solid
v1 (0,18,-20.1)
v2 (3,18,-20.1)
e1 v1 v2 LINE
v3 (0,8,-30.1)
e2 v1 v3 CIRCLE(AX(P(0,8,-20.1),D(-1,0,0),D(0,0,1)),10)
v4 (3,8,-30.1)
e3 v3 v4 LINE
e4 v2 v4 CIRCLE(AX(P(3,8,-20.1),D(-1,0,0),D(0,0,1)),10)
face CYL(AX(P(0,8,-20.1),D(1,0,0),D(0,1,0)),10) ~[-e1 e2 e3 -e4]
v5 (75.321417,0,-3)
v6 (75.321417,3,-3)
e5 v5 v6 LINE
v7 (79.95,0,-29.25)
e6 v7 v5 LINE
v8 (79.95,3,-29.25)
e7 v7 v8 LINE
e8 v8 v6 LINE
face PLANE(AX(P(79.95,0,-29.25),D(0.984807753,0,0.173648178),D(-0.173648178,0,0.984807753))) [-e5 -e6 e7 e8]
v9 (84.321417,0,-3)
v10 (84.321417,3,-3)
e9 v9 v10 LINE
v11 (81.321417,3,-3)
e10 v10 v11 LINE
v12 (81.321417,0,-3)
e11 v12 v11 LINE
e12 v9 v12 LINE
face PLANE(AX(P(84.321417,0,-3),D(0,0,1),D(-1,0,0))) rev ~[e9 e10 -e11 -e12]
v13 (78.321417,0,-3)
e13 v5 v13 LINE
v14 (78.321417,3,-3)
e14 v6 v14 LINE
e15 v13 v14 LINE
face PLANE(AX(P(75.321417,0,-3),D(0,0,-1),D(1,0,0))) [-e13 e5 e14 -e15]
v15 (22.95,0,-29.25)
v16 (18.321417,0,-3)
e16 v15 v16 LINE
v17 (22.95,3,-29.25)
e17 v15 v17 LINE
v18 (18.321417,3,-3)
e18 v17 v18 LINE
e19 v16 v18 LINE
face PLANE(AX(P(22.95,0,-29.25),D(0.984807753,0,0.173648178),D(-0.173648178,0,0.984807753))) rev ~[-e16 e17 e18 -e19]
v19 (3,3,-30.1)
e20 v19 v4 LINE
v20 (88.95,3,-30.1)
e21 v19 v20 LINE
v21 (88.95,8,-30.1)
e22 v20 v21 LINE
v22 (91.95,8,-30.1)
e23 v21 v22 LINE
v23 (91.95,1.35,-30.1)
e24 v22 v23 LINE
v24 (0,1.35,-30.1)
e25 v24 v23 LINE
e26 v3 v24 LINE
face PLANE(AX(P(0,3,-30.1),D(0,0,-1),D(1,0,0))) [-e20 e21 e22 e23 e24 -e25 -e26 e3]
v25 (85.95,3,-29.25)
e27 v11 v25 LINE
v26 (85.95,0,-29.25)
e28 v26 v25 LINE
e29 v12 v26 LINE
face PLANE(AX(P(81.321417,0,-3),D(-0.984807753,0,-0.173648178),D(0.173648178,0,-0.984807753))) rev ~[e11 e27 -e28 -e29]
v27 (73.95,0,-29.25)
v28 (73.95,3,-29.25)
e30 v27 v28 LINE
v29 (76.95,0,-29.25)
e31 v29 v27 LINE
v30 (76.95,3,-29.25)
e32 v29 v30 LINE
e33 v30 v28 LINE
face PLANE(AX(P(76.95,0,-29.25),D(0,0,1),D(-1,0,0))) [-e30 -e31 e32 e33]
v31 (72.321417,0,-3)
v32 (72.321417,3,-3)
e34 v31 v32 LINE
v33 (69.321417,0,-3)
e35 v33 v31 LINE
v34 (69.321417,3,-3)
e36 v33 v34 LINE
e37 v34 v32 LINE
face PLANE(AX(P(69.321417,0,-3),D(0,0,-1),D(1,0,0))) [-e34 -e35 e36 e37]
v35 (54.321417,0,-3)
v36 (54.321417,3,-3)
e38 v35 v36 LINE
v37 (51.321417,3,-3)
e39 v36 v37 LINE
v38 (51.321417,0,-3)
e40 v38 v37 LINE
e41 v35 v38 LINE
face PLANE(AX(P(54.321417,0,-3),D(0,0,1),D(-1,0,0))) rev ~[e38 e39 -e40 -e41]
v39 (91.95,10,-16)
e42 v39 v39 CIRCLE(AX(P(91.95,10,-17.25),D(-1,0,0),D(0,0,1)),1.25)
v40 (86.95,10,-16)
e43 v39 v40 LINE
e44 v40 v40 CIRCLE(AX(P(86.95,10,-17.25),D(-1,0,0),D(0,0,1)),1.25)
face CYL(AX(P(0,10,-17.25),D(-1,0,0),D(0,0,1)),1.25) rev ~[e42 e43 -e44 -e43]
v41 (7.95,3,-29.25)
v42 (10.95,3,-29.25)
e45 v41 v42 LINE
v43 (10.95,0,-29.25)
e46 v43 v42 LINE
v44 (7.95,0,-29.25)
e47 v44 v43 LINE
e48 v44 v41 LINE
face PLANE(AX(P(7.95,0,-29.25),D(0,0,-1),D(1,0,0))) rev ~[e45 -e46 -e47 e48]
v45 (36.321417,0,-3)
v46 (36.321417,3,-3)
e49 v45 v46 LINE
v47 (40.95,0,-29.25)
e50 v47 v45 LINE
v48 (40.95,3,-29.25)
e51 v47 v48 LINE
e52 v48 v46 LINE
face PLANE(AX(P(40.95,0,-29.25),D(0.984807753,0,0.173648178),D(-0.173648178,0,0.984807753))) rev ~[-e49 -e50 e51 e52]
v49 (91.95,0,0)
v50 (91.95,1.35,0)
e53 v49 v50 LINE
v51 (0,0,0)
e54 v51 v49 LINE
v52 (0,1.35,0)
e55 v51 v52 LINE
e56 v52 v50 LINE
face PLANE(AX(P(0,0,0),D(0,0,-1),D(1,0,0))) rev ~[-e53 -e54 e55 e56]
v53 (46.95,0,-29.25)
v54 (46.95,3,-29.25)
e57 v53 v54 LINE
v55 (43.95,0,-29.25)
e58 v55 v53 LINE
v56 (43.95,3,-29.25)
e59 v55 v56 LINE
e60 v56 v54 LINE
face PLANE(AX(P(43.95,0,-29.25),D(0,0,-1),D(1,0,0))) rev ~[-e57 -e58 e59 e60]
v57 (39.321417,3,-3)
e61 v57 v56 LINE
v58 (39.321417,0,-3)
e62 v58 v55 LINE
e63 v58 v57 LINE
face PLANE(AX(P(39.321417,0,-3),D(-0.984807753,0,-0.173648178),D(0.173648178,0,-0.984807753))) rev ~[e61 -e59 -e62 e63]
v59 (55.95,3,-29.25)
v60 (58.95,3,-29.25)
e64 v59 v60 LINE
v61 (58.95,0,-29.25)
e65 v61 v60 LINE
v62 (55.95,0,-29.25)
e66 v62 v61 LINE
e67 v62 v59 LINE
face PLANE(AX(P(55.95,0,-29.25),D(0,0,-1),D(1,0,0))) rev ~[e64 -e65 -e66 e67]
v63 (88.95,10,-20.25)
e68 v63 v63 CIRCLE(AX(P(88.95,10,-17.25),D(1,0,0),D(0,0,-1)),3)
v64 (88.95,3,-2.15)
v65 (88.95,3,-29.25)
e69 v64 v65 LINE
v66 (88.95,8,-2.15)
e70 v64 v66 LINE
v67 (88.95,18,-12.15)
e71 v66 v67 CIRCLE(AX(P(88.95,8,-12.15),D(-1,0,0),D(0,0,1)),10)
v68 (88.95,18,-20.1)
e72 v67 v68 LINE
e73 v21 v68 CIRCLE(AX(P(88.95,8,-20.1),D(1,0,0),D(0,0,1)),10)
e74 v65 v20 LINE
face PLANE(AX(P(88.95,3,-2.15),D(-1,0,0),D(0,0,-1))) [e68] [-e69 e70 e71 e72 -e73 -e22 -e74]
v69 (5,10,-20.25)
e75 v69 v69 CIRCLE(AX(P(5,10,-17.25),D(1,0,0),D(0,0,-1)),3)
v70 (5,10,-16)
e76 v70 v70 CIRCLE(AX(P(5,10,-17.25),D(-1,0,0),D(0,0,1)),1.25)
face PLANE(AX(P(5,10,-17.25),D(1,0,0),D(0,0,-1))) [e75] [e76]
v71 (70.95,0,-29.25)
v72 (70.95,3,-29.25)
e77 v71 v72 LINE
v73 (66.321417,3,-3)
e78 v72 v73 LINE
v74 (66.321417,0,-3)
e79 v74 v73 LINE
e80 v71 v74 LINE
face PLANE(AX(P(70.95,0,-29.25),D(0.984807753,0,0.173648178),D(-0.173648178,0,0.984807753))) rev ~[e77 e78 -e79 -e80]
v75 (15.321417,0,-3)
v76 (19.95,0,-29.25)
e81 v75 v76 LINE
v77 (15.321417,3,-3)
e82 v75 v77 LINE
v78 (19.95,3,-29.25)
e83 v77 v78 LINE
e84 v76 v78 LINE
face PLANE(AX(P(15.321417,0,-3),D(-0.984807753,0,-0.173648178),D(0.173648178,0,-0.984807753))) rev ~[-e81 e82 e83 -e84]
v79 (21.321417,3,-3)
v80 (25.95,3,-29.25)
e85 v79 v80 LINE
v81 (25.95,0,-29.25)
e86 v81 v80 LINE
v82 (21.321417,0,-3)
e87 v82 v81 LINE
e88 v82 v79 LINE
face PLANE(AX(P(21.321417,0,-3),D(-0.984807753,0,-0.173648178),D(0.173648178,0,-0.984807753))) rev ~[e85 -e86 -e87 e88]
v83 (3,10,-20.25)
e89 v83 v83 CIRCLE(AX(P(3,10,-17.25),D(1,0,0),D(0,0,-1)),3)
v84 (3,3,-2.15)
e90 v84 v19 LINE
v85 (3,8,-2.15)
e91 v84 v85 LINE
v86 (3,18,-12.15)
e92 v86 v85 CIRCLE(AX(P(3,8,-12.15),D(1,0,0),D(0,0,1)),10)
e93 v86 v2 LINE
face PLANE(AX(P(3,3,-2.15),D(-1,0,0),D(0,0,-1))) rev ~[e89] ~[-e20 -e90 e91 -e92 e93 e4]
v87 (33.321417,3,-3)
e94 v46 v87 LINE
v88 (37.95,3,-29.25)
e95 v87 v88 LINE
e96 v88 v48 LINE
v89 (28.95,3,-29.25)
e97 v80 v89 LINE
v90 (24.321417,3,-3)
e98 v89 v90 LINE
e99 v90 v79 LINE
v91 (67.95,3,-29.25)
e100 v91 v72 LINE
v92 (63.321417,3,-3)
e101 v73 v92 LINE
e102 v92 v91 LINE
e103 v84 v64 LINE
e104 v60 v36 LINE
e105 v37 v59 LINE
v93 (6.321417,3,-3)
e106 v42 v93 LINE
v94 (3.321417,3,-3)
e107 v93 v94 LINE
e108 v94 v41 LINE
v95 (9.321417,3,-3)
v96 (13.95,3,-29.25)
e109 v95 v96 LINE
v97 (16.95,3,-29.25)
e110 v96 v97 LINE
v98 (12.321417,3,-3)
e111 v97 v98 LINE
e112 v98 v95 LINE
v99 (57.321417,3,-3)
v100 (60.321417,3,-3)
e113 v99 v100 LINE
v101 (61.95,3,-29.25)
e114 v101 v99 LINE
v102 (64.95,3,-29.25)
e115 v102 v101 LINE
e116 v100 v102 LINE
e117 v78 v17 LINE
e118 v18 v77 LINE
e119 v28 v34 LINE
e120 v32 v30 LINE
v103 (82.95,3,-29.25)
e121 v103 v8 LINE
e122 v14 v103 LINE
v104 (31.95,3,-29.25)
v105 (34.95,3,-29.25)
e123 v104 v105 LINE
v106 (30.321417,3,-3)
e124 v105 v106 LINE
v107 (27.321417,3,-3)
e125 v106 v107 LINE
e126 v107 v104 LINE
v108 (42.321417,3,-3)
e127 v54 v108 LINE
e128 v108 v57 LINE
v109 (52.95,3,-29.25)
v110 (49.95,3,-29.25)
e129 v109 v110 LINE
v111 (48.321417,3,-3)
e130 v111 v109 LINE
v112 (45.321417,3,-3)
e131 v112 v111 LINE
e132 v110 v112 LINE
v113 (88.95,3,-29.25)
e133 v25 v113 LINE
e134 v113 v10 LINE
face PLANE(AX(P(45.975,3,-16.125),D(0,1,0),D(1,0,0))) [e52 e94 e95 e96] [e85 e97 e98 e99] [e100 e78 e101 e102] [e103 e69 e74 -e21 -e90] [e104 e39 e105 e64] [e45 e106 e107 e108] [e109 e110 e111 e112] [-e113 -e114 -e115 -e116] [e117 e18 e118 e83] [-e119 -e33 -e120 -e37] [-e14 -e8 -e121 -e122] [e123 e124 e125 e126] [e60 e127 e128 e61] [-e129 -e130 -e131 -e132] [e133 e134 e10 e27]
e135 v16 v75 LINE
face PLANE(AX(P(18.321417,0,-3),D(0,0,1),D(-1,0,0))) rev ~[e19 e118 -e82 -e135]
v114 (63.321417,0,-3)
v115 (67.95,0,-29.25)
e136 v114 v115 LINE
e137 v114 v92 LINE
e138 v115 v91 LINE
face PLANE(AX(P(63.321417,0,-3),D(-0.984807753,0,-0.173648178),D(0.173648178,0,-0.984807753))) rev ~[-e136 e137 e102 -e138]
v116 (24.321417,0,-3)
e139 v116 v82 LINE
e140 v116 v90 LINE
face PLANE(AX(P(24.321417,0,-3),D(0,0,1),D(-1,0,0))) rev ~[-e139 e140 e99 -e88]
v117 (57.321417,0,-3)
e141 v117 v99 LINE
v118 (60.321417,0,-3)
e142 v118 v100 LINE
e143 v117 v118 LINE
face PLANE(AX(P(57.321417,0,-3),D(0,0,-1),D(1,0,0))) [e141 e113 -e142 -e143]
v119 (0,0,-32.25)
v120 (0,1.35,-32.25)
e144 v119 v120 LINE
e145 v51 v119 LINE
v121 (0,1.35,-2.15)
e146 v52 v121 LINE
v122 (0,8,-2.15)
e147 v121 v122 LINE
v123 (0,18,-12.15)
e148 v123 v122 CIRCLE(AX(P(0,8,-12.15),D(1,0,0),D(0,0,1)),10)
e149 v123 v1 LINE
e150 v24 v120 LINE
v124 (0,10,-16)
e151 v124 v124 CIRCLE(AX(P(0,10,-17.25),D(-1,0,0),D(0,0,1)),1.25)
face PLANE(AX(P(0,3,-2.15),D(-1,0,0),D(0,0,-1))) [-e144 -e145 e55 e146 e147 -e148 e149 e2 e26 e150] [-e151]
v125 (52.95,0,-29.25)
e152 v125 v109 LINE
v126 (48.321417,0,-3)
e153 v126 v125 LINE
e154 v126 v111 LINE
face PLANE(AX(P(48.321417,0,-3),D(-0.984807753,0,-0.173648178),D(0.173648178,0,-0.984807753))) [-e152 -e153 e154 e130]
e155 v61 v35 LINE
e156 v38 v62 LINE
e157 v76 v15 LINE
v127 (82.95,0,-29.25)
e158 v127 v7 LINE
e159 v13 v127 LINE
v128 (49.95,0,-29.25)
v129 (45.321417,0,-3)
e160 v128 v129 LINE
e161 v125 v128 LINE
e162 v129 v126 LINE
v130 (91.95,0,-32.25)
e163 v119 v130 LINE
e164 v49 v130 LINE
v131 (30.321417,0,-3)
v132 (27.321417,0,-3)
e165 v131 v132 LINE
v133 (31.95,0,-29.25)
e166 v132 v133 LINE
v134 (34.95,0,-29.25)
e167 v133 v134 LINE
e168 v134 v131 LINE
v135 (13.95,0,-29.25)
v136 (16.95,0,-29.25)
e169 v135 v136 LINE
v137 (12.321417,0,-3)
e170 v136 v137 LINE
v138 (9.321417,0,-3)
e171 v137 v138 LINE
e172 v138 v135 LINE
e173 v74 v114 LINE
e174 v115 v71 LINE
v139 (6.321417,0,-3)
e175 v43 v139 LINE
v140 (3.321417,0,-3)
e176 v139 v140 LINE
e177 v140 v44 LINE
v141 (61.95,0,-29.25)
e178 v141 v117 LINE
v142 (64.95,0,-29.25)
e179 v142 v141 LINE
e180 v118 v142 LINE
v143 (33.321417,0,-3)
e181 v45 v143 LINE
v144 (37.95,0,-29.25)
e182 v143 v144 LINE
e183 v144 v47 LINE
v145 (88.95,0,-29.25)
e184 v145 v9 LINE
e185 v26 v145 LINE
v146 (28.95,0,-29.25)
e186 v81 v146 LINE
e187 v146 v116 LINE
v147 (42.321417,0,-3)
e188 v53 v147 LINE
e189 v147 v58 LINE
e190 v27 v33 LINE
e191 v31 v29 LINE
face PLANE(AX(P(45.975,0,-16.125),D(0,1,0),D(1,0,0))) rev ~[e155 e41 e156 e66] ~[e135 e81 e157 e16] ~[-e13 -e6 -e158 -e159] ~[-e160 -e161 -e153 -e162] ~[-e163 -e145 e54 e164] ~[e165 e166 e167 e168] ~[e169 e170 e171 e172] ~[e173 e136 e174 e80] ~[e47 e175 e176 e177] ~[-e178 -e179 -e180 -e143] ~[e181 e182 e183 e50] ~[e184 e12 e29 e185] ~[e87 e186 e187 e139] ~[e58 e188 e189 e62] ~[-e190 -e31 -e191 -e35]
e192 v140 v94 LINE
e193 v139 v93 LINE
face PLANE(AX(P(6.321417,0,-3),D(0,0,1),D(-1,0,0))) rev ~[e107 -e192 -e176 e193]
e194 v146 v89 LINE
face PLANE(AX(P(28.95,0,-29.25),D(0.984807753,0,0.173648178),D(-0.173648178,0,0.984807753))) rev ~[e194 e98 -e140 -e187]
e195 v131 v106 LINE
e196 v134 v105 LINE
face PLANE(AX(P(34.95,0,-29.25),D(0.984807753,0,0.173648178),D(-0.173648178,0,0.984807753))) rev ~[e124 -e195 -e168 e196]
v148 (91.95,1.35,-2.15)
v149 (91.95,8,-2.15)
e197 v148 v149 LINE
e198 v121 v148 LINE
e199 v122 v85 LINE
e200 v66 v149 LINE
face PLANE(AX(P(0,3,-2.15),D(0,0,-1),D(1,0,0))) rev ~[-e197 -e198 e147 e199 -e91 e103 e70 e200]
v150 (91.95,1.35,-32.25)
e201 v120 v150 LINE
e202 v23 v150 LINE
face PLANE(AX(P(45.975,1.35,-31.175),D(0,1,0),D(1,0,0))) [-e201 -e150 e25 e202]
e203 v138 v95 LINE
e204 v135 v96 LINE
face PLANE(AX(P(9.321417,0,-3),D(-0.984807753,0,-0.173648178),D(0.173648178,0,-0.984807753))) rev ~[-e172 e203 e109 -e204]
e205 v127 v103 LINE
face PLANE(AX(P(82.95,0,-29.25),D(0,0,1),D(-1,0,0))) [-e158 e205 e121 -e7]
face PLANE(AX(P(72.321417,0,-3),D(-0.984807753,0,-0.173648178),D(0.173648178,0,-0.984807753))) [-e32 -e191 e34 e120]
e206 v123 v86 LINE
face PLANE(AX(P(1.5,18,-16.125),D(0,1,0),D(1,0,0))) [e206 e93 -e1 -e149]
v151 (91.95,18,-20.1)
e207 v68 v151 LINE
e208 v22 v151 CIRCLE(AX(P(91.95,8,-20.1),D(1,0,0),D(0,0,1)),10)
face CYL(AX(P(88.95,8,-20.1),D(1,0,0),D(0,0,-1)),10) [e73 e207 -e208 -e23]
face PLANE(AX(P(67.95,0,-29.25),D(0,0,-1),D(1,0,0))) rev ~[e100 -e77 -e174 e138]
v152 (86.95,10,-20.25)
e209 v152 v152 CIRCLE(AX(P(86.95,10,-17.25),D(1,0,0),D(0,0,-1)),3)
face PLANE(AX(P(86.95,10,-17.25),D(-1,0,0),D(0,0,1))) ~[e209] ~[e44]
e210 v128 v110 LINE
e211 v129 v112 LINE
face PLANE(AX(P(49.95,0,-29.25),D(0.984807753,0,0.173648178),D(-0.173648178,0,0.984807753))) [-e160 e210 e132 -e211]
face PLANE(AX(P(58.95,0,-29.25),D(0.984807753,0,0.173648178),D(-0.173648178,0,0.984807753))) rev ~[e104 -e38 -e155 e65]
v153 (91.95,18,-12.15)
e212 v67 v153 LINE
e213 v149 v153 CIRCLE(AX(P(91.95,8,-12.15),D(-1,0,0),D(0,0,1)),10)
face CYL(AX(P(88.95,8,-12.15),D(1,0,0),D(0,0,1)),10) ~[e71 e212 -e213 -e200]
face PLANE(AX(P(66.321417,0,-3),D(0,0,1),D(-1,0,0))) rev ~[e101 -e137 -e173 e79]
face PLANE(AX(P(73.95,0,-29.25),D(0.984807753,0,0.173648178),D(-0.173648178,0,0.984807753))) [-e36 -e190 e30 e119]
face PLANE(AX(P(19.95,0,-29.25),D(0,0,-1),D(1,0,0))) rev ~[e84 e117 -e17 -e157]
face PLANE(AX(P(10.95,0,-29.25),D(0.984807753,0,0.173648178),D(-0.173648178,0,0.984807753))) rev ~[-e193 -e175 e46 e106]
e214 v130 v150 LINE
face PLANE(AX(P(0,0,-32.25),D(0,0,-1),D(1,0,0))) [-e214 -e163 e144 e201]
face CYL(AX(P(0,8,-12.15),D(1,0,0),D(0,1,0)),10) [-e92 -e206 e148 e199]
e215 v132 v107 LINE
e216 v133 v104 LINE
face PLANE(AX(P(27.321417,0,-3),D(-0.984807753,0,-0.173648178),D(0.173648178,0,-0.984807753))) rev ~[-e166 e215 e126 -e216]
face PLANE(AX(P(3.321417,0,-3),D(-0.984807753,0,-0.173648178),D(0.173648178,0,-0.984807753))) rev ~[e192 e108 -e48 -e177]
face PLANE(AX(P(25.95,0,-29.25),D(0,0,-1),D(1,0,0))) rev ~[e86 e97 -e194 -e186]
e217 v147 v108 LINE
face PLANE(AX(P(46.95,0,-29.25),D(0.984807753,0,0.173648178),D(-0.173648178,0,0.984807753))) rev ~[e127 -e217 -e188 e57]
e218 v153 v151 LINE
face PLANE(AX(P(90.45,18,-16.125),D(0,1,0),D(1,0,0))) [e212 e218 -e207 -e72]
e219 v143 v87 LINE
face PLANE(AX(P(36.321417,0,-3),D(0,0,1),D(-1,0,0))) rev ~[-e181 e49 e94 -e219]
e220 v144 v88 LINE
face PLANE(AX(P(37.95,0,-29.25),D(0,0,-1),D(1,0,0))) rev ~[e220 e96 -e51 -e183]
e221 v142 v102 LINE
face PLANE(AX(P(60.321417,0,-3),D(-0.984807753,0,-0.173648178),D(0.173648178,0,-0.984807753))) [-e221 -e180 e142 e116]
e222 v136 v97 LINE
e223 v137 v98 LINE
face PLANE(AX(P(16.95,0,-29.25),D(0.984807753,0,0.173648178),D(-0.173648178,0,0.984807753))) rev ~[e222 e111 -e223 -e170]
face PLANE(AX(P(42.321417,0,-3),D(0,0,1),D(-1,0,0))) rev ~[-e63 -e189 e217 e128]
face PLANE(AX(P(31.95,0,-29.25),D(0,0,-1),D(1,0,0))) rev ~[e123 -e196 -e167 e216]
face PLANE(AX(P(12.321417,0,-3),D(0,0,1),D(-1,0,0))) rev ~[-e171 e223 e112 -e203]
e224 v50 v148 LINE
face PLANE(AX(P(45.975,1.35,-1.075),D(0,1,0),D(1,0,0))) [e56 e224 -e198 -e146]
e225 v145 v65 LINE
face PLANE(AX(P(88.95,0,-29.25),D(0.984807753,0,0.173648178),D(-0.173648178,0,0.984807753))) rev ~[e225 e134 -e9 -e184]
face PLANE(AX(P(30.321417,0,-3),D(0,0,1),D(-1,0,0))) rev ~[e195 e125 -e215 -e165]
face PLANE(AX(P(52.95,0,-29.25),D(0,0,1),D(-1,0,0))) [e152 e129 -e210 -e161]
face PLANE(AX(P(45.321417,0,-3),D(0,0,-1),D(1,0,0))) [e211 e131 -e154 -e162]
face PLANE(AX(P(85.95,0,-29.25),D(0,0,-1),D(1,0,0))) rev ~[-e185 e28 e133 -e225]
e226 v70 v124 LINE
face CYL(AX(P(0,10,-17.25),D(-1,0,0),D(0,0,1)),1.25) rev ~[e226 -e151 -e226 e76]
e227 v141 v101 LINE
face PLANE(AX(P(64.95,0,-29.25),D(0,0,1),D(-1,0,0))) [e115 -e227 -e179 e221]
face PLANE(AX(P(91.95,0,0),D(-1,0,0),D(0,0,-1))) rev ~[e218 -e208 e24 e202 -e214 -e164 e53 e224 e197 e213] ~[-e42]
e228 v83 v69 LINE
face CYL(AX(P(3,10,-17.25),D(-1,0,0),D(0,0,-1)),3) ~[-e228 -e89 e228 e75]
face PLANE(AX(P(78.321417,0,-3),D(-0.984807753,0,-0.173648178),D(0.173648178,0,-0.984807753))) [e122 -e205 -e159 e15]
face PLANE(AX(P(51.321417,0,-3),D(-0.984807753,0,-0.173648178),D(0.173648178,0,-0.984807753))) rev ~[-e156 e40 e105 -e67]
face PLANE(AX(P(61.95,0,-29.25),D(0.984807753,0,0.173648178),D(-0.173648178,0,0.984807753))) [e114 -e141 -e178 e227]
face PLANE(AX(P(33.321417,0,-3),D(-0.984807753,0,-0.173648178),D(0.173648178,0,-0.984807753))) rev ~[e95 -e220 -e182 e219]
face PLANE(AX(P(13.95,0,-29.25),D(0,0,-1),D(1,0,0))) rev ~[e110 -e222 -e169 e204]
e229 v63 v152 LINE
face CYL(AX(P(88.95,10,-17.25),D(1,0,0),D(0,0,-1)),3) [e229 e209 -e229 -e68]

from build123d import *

# Parameters (mm, degrees)
SKETCH1_W               = 91.95
SKETCH1_H               = 32.25
BOSS_EXTRUDE1_DEPTH     = 3
SKETCH2_W               = 91.95
SKETCH2_H               = 2.15
CUT_EXTRUDE1_DEPTH      = 1.65
SKETCH4_W               = 3
SKETCH4_H               = 27.95
BOSS_EXTRUDE2_DEPTH     = 15
SKETCH5_R               = 1.25
CUT_EXTRUDE2_DEPTH      = 1
CUT_EXTRUDE2_DEPTH_BACK = 92.95
FILLET2_R               = 10
CUT_EXTRUDE5_REACH      = 20
SKETCH8_R               = 3
BOSS_EXTRUDE3_DEPTH     = 2
SKETCH9_R               = 1.25
CUT_EXTRUDE6_DEPTH      = 1
CUT_EXTRUDE6_DEPTH_BACK = 92.95


with BuildPart() as part:
    # Sketch1 → Boss-Extrude1 (new body)
    with BuildSketch(Plane(origin=(0, 0, 0), x_dir=(1, 0, 0), z_dir=(0, 1, 0))):
        with Locations((45.975, 16.125)):
            Rectangle(SKETCH1_W, SKETCH1_H)
    extrude(amount=BOSS_EXTRUDE1_DEPTH)

    # Sketch2 → Cut-Extrude1 (cut)
    with BuildSketch(Plane(origin=(0, 3, 0), x_dir=(1, 0, 0), z_dir=(0, 1, 0))):
        with Locations((45.975, 31.175)):
            Rectangle(SKETCH2_W, SKETCH2_H)
        with Locations((45.975, 1.075)):
            Rectangle(SKETCH2_W, SKETCH2_H)
    extrude(amount=-CUT_EXTRUDE1_DEPTH, mode=Mode.SUBTRACT)

    # Sketch4 → Boss-Extrude2 (add)
    with BuildSketch(Plane(origin=(0, 3, 0), x_dir=(1, 0, 0), z_dir=(0, 1, 0))):
        with Locations((1.5, 16.125)):
            Rectangle(SKETCH4_W, SKETCH4_H)
        with Locations((90.45, 16.125)):
            Rectangle(SKETCH4_W, SKETCH4_H)
    extrude(amount=BOSS_EXTRUDE2_DEPTH)

    # Sketch5 → Cut-Extrude2 (cut, two sides)
    with BuildSketch(Plane.ZY) as cut_extrude2_sk:
        with Locations((-17.25, 10)):
            Circle(SKETCH5_R)
    extrude(amount=CUT_EXTRUDE2_DEPTH, mode=Mode.SUBTRACT)
    extrude(cut_extrude2_sk.sketch, amount=-CUT_EXTRUDE2_DEPTH_BACK, mode=Mode.SUBTRACT)

    # Fillet2
    fillet2_edges = [part.edges().sort_by_distance(p)[0] for p in [
        (1.5, 18, -2.15),
        (1.5, 18, -30.1),
        (90.45, 18, -30.1),
        (90.45, 18, -2.15),
    ]]
    fillet(fillet2_edges, radius=FILLET2_R)

    # Sketch7 → Cut-Extrude5 (cut, up to next)
    with BuildSketch(Plane.XZ, mode=Mode.PRIVATE) as cut_extrude5_sk1:
        Polygon((7.95, -29.25), (10.95, -29.25), (6.321416756, -3), (3.321416756, -3), align=None)
    cut_extrude5_tool1 = extrude(cut_extrude5_sk1.sketch, amount=-CUT_EXTRUDE5_REACH, mode=Mode.PRIVATE) & part.part
    add(cut_extrude5_tool1.solids().sort_by_distance((7.135708, 0, -16.125))[0], mode=Mode.SUBTRACT)
    # Sketch7 → Cut-Extrude5 (cut, up to next)
    with BuildSketch(Plane.XZ, mode=Mode.PRIVATE) as cut_extrude5_sk2:
        Polygon((19.95, -29.25), (22.95, -29.25), (18.321416756, -3), (15.321416756, -3), align=None)
    cut_extrude5_tool2 = extrude(cut_extrude5_sk2.sketch, amount=-CUT_EXTRUDE5_REACH, mode=Mode.PRIVATE) & part.part
    add(cut_extrude5_tool2.solids().sort_by_distance((19.135708, 0, -16.125))[0], mode=Mode.SUBTRACT)
    # Sketch7 → Cut-Extrude5 (cut, up to next)
    with BuildSketch(Plane.XZ, mode=Mode.PRIVATE) as cut_extrude5_sk3:
        Polygon((25.95, -29.25), (28.95, -29.25), (24.321416756, -3), (21.321416756, -3), align=None)
    cut_extrude5_tool3 = extrude(cut_extrude5_sk3.sketch, amount=-CUT_EXTRUDE5_REACH, mode=Mode.PRIVATE) & part.part
    add(cut_extrude5_tool3.solids().sort_by_distance((25.135708, 0, -16.125))[0], mode=Mode.SUBTRACT)
    # Sketch7 → Cut-Extrude5 (cut, up to next)
    with BuildSketch(Plane.XZ, mode=Mode.PRIVATE) as cut_extrude5_sk4:
        Polygon((31.95, -29.25), (34.95, -29.25), (30.321416756, -3), (27.321416756, -3), align=None)
    cut_extrude5_tool4 = extrude(cut_extrude5_sk4.sketch, amount=-CUT_EXTRUDE5_REACH, mode=Mode.PRIVATE) & part.part
    add(cut_extrude5_tool4.solids().sort_by_distance((31.135708, 0, -16.125))[0], mode=Mode.SUBTRACT)
    # Sketch7 → Cut-Extrude5 (cut, up to next)
    with BuildSketch(Plane.XZ, mode=Mode.PRIVATE) as cut_extrude5_sk5:
        Polygon((37.95, -29.25), (40.95, -29.25), (36.321416756, -3), (33.321416756, -3), align=None)
    cut_extrude5_tool5 = extrude(cut_extrude5_sk5.sketch, amount=-CUT_EXTRUDE5_REACH, mode=Mode.PRIVATE) & part.part
    add(cut_extrude5_tool5.solids().sort_by_distance((37.135708, 0, -16.125))[0], mode=Mode.SUBTRACT)
    # Sketch7 → Cut-Extrude5 (cut, up to next)
    with BuildSketch(Plane.XZ, mode=Mode.PRIVATE) as cut_extrude5_sk6:
        Polygon((43.95, -29.25), (46.95, -29.25), (42.321416756, -3), (39.321416756, -3), align=None)
    cut_extrude5_tool6 = extrude(cut_extrude5_sk6.sketch, amount=-CUT_EXTRUDE5_REACH, mode=Mode.PRIVATE) & part.part
    add(cut_extrude5_tool6.solids().sort_by_distance((43.135708, 0, -16.125))[0], mode=Mode.SUBTRACT)
    # Sketch7 → Cut-Extrude5 (cut, up to next)
    with BuildSketch(Plane.XZ, mode=Mode.PRIVATE) as cut_extrude5_sk7:
        Polygon((55.95, -29.25), (58.95, -29.25), (54.321416756, -3), (51.321416756, -3), align=None)
    cut_extrude5_tool7 = extrude(cut_extrude5_sk7.sketch, amount=-CUT_EXTRUDE5_REACH, mode=Mode.PRIVATE) & part.part
    add(cut_extrude5_tool7.solids().sort_by_distance((55.135708, 0, -16.125))[0], mode=Mode.SUBTRACT)
    # Sketch7 → Cut-Extrude5 (cut, up to next)
    with BuildSketch(Plane.XZ, mode=Mode.PRIVATE) as cut_extrude5_sk8:
        Polygon((67.95, -29.25), (70.95, -29.25), (66.321416756, -3), (63.321416756, -3), align=None)
    cut_extrude5_tool8 = extrude(cut_extrude5_sk8.sketch, amount=-CUT_EXTRUDE5_REACH, mode=Mode.PRIVATE) & part.part
    add(cut_extrude5_tool8.solids().sort_by_distance((67.135708, 0, -16.125))[0], mode=Mode.SUBTRACT)
    # Sketch7 → Cut-Extrude5 (cut, up to next)
    with BuildSketch(Plane.XZ, mode=Mode.PRIVATE) as cut_extrude5_sk9:
        Polygon((79.95, -29.25), (75.321416756, -3), (78.321416756, -3), (82.95, -29.25), align=None)
    cut_extrude5_tool9 = extrude(cut_extrude5_sk9.sketch, amount=-CUT_EXTRUDE5_REACH, mode=Mode.PRIVATE) & part.part
    add(cut_extrude5_tool9.solids().sort_by_distance((79.135708, 0, -16.125))[0], mode=Mode.SUBTRACT)
    # Sketch7 → Cut-Extrude5 (cut, up to next)
    with BuildSketch(Plane.XZ, mode=Mode.PRIVATE) as cut_extrude5_sk10:
        Polygon((88.95, -29.25), (84.321416756, -3), (81.321416756, -3), (85.95, -29.25), align=None)
    cut_extrude5_tool10 = extrude(cut_extrude5_sk10.sketch, amount=-CUT_EXTRUDE5_REACH, mode=Mode.PRIVATE) & part.part
    add(cut_extrude5_tool10.solids().sort_by_distance((85.135708, 0, -16.125))[0], mode=Mode.SUBTRACT)
    # Sketch7 → Cut-Extrude5 (cut, up to next)
    with BuildSketch(Plane.XZ, mode=Mode.PRIVATE) as cut_extrude5_sk11:
        Polygon((16.95, -29.25), (12.321416756, -3), (9.321416756, -3), (13.95, -29.25), align=None)
    cut_extrude5_tool11 = extrude(cut_extrude5_sk11.sketch, amount=-CUT_EXTRUDE5_REACH, mode=Mode.PRIVATE) & part.part
    add(cut_extrude5_tool11.solids().sort_by_distance((13.135708, 0, -16.125))[0], mode=Mode.SUBTRACT)
    # Sketch7 → Cut-Extrude5 (cut, up to next)
    with BuildSketch(Plane.XZ, mode=Mode.PRIVATE) as cut_extrude5_sk12:
        Polygon((49.95, -29.25), (45.321416756, -3), (48.321416756, -3), (52.95, -29.25), align=None)
    cut_extrude5_tool12 = extrude(cut_extrude5_sk12.sketch, amount=-CUT_EXTRUDE5_REACH, mode=Mode.PRIVATE) & part.part
    add(cut_extrude5_tool12.solids().sort_by_distance((49.135708, 0, -16.125))[0], mode=Mode.SUBTRACT)
    # Sketch7 → Cut-Extrude5 (cut, up to next)
    with BuildSketch(Plane.XZ, mode=Mode.PRIVATE) as cut_extrude5_sk13:
        Polygon((61.95, -29.25), (57.321416756, -3), (60.321416756, -3), (64.95, -29.25), align=None)
    cut_extrude5_tool13 = extrude(cut_extrude5_sk13.sketch, amount=-CUT_EXTRUDE5_REACH, mode=Mode.PRIVATE) & part.part
    add(cut_extrude5_tool13.solids().sort_by_distance((61.135708, 0, -16.125))[0], mode=Mode.SUBTRACT)
    # Sketch7 → Cut-Extrude5 (cut, up to next)
    with BuildSketch(Plane.XZ, mode=Mode.PRIVATE) as cut_extrude5_sk14:
        Polygon((73.95, -29.25), (69.321416756, -3), (72.321416756, -3), (76.95, -29.25), align=None)
    cut_extrude5_tool14 = extrude(cut_extrude5_sk14.sketch, amount=-CUT_EXTRUDE5_REACH, mode=Mode.PRIVATE) & part.part
    add(cut_extrude5_tool14.solids().sort_by_distance((73.135708, 0, -16.125))[0], mode=Mode.SUBTRACT)

    # Sketch8 → Boss-Extrude3 (add)
    with BuildSketch(Plane(origin=(3, 0, 0), x_dir=(0, 0, -1), z_dir=(1, 0, 0))):
        with Locations((17.25, 10)):
            Circle(SKETCH8_R)
    boss_extrude3 = extrude(amount=BOSS_EXTRUDE3_DEPTH)

    # Mirror1: Boss-Extrude3 across plane
    add(boss_extrude3.mirror(Plane(origin=(45.975, 0, 0), x_dir=(0, 0, 1), z_dir=(1, 0, 0))))

    # Sketch9 → Cut-Extrude6 (cut, two sides)
    with BuildSketch(Plane.ZY) as cut_extrude6_sk:
        with Locations((-17.25, 10)):
            Circle(SKETCH9_R)
    extrude(amount=CUT_EXTRUDE6_DEPTH, mode=Mode.SUBTRACT)
    extrude(cut_extrude6_sk.sketch, amount=-CUT_EXTRUDE6_DEPTH_BACK, mode=Mode.SUBTRACT)


solid = part.part
